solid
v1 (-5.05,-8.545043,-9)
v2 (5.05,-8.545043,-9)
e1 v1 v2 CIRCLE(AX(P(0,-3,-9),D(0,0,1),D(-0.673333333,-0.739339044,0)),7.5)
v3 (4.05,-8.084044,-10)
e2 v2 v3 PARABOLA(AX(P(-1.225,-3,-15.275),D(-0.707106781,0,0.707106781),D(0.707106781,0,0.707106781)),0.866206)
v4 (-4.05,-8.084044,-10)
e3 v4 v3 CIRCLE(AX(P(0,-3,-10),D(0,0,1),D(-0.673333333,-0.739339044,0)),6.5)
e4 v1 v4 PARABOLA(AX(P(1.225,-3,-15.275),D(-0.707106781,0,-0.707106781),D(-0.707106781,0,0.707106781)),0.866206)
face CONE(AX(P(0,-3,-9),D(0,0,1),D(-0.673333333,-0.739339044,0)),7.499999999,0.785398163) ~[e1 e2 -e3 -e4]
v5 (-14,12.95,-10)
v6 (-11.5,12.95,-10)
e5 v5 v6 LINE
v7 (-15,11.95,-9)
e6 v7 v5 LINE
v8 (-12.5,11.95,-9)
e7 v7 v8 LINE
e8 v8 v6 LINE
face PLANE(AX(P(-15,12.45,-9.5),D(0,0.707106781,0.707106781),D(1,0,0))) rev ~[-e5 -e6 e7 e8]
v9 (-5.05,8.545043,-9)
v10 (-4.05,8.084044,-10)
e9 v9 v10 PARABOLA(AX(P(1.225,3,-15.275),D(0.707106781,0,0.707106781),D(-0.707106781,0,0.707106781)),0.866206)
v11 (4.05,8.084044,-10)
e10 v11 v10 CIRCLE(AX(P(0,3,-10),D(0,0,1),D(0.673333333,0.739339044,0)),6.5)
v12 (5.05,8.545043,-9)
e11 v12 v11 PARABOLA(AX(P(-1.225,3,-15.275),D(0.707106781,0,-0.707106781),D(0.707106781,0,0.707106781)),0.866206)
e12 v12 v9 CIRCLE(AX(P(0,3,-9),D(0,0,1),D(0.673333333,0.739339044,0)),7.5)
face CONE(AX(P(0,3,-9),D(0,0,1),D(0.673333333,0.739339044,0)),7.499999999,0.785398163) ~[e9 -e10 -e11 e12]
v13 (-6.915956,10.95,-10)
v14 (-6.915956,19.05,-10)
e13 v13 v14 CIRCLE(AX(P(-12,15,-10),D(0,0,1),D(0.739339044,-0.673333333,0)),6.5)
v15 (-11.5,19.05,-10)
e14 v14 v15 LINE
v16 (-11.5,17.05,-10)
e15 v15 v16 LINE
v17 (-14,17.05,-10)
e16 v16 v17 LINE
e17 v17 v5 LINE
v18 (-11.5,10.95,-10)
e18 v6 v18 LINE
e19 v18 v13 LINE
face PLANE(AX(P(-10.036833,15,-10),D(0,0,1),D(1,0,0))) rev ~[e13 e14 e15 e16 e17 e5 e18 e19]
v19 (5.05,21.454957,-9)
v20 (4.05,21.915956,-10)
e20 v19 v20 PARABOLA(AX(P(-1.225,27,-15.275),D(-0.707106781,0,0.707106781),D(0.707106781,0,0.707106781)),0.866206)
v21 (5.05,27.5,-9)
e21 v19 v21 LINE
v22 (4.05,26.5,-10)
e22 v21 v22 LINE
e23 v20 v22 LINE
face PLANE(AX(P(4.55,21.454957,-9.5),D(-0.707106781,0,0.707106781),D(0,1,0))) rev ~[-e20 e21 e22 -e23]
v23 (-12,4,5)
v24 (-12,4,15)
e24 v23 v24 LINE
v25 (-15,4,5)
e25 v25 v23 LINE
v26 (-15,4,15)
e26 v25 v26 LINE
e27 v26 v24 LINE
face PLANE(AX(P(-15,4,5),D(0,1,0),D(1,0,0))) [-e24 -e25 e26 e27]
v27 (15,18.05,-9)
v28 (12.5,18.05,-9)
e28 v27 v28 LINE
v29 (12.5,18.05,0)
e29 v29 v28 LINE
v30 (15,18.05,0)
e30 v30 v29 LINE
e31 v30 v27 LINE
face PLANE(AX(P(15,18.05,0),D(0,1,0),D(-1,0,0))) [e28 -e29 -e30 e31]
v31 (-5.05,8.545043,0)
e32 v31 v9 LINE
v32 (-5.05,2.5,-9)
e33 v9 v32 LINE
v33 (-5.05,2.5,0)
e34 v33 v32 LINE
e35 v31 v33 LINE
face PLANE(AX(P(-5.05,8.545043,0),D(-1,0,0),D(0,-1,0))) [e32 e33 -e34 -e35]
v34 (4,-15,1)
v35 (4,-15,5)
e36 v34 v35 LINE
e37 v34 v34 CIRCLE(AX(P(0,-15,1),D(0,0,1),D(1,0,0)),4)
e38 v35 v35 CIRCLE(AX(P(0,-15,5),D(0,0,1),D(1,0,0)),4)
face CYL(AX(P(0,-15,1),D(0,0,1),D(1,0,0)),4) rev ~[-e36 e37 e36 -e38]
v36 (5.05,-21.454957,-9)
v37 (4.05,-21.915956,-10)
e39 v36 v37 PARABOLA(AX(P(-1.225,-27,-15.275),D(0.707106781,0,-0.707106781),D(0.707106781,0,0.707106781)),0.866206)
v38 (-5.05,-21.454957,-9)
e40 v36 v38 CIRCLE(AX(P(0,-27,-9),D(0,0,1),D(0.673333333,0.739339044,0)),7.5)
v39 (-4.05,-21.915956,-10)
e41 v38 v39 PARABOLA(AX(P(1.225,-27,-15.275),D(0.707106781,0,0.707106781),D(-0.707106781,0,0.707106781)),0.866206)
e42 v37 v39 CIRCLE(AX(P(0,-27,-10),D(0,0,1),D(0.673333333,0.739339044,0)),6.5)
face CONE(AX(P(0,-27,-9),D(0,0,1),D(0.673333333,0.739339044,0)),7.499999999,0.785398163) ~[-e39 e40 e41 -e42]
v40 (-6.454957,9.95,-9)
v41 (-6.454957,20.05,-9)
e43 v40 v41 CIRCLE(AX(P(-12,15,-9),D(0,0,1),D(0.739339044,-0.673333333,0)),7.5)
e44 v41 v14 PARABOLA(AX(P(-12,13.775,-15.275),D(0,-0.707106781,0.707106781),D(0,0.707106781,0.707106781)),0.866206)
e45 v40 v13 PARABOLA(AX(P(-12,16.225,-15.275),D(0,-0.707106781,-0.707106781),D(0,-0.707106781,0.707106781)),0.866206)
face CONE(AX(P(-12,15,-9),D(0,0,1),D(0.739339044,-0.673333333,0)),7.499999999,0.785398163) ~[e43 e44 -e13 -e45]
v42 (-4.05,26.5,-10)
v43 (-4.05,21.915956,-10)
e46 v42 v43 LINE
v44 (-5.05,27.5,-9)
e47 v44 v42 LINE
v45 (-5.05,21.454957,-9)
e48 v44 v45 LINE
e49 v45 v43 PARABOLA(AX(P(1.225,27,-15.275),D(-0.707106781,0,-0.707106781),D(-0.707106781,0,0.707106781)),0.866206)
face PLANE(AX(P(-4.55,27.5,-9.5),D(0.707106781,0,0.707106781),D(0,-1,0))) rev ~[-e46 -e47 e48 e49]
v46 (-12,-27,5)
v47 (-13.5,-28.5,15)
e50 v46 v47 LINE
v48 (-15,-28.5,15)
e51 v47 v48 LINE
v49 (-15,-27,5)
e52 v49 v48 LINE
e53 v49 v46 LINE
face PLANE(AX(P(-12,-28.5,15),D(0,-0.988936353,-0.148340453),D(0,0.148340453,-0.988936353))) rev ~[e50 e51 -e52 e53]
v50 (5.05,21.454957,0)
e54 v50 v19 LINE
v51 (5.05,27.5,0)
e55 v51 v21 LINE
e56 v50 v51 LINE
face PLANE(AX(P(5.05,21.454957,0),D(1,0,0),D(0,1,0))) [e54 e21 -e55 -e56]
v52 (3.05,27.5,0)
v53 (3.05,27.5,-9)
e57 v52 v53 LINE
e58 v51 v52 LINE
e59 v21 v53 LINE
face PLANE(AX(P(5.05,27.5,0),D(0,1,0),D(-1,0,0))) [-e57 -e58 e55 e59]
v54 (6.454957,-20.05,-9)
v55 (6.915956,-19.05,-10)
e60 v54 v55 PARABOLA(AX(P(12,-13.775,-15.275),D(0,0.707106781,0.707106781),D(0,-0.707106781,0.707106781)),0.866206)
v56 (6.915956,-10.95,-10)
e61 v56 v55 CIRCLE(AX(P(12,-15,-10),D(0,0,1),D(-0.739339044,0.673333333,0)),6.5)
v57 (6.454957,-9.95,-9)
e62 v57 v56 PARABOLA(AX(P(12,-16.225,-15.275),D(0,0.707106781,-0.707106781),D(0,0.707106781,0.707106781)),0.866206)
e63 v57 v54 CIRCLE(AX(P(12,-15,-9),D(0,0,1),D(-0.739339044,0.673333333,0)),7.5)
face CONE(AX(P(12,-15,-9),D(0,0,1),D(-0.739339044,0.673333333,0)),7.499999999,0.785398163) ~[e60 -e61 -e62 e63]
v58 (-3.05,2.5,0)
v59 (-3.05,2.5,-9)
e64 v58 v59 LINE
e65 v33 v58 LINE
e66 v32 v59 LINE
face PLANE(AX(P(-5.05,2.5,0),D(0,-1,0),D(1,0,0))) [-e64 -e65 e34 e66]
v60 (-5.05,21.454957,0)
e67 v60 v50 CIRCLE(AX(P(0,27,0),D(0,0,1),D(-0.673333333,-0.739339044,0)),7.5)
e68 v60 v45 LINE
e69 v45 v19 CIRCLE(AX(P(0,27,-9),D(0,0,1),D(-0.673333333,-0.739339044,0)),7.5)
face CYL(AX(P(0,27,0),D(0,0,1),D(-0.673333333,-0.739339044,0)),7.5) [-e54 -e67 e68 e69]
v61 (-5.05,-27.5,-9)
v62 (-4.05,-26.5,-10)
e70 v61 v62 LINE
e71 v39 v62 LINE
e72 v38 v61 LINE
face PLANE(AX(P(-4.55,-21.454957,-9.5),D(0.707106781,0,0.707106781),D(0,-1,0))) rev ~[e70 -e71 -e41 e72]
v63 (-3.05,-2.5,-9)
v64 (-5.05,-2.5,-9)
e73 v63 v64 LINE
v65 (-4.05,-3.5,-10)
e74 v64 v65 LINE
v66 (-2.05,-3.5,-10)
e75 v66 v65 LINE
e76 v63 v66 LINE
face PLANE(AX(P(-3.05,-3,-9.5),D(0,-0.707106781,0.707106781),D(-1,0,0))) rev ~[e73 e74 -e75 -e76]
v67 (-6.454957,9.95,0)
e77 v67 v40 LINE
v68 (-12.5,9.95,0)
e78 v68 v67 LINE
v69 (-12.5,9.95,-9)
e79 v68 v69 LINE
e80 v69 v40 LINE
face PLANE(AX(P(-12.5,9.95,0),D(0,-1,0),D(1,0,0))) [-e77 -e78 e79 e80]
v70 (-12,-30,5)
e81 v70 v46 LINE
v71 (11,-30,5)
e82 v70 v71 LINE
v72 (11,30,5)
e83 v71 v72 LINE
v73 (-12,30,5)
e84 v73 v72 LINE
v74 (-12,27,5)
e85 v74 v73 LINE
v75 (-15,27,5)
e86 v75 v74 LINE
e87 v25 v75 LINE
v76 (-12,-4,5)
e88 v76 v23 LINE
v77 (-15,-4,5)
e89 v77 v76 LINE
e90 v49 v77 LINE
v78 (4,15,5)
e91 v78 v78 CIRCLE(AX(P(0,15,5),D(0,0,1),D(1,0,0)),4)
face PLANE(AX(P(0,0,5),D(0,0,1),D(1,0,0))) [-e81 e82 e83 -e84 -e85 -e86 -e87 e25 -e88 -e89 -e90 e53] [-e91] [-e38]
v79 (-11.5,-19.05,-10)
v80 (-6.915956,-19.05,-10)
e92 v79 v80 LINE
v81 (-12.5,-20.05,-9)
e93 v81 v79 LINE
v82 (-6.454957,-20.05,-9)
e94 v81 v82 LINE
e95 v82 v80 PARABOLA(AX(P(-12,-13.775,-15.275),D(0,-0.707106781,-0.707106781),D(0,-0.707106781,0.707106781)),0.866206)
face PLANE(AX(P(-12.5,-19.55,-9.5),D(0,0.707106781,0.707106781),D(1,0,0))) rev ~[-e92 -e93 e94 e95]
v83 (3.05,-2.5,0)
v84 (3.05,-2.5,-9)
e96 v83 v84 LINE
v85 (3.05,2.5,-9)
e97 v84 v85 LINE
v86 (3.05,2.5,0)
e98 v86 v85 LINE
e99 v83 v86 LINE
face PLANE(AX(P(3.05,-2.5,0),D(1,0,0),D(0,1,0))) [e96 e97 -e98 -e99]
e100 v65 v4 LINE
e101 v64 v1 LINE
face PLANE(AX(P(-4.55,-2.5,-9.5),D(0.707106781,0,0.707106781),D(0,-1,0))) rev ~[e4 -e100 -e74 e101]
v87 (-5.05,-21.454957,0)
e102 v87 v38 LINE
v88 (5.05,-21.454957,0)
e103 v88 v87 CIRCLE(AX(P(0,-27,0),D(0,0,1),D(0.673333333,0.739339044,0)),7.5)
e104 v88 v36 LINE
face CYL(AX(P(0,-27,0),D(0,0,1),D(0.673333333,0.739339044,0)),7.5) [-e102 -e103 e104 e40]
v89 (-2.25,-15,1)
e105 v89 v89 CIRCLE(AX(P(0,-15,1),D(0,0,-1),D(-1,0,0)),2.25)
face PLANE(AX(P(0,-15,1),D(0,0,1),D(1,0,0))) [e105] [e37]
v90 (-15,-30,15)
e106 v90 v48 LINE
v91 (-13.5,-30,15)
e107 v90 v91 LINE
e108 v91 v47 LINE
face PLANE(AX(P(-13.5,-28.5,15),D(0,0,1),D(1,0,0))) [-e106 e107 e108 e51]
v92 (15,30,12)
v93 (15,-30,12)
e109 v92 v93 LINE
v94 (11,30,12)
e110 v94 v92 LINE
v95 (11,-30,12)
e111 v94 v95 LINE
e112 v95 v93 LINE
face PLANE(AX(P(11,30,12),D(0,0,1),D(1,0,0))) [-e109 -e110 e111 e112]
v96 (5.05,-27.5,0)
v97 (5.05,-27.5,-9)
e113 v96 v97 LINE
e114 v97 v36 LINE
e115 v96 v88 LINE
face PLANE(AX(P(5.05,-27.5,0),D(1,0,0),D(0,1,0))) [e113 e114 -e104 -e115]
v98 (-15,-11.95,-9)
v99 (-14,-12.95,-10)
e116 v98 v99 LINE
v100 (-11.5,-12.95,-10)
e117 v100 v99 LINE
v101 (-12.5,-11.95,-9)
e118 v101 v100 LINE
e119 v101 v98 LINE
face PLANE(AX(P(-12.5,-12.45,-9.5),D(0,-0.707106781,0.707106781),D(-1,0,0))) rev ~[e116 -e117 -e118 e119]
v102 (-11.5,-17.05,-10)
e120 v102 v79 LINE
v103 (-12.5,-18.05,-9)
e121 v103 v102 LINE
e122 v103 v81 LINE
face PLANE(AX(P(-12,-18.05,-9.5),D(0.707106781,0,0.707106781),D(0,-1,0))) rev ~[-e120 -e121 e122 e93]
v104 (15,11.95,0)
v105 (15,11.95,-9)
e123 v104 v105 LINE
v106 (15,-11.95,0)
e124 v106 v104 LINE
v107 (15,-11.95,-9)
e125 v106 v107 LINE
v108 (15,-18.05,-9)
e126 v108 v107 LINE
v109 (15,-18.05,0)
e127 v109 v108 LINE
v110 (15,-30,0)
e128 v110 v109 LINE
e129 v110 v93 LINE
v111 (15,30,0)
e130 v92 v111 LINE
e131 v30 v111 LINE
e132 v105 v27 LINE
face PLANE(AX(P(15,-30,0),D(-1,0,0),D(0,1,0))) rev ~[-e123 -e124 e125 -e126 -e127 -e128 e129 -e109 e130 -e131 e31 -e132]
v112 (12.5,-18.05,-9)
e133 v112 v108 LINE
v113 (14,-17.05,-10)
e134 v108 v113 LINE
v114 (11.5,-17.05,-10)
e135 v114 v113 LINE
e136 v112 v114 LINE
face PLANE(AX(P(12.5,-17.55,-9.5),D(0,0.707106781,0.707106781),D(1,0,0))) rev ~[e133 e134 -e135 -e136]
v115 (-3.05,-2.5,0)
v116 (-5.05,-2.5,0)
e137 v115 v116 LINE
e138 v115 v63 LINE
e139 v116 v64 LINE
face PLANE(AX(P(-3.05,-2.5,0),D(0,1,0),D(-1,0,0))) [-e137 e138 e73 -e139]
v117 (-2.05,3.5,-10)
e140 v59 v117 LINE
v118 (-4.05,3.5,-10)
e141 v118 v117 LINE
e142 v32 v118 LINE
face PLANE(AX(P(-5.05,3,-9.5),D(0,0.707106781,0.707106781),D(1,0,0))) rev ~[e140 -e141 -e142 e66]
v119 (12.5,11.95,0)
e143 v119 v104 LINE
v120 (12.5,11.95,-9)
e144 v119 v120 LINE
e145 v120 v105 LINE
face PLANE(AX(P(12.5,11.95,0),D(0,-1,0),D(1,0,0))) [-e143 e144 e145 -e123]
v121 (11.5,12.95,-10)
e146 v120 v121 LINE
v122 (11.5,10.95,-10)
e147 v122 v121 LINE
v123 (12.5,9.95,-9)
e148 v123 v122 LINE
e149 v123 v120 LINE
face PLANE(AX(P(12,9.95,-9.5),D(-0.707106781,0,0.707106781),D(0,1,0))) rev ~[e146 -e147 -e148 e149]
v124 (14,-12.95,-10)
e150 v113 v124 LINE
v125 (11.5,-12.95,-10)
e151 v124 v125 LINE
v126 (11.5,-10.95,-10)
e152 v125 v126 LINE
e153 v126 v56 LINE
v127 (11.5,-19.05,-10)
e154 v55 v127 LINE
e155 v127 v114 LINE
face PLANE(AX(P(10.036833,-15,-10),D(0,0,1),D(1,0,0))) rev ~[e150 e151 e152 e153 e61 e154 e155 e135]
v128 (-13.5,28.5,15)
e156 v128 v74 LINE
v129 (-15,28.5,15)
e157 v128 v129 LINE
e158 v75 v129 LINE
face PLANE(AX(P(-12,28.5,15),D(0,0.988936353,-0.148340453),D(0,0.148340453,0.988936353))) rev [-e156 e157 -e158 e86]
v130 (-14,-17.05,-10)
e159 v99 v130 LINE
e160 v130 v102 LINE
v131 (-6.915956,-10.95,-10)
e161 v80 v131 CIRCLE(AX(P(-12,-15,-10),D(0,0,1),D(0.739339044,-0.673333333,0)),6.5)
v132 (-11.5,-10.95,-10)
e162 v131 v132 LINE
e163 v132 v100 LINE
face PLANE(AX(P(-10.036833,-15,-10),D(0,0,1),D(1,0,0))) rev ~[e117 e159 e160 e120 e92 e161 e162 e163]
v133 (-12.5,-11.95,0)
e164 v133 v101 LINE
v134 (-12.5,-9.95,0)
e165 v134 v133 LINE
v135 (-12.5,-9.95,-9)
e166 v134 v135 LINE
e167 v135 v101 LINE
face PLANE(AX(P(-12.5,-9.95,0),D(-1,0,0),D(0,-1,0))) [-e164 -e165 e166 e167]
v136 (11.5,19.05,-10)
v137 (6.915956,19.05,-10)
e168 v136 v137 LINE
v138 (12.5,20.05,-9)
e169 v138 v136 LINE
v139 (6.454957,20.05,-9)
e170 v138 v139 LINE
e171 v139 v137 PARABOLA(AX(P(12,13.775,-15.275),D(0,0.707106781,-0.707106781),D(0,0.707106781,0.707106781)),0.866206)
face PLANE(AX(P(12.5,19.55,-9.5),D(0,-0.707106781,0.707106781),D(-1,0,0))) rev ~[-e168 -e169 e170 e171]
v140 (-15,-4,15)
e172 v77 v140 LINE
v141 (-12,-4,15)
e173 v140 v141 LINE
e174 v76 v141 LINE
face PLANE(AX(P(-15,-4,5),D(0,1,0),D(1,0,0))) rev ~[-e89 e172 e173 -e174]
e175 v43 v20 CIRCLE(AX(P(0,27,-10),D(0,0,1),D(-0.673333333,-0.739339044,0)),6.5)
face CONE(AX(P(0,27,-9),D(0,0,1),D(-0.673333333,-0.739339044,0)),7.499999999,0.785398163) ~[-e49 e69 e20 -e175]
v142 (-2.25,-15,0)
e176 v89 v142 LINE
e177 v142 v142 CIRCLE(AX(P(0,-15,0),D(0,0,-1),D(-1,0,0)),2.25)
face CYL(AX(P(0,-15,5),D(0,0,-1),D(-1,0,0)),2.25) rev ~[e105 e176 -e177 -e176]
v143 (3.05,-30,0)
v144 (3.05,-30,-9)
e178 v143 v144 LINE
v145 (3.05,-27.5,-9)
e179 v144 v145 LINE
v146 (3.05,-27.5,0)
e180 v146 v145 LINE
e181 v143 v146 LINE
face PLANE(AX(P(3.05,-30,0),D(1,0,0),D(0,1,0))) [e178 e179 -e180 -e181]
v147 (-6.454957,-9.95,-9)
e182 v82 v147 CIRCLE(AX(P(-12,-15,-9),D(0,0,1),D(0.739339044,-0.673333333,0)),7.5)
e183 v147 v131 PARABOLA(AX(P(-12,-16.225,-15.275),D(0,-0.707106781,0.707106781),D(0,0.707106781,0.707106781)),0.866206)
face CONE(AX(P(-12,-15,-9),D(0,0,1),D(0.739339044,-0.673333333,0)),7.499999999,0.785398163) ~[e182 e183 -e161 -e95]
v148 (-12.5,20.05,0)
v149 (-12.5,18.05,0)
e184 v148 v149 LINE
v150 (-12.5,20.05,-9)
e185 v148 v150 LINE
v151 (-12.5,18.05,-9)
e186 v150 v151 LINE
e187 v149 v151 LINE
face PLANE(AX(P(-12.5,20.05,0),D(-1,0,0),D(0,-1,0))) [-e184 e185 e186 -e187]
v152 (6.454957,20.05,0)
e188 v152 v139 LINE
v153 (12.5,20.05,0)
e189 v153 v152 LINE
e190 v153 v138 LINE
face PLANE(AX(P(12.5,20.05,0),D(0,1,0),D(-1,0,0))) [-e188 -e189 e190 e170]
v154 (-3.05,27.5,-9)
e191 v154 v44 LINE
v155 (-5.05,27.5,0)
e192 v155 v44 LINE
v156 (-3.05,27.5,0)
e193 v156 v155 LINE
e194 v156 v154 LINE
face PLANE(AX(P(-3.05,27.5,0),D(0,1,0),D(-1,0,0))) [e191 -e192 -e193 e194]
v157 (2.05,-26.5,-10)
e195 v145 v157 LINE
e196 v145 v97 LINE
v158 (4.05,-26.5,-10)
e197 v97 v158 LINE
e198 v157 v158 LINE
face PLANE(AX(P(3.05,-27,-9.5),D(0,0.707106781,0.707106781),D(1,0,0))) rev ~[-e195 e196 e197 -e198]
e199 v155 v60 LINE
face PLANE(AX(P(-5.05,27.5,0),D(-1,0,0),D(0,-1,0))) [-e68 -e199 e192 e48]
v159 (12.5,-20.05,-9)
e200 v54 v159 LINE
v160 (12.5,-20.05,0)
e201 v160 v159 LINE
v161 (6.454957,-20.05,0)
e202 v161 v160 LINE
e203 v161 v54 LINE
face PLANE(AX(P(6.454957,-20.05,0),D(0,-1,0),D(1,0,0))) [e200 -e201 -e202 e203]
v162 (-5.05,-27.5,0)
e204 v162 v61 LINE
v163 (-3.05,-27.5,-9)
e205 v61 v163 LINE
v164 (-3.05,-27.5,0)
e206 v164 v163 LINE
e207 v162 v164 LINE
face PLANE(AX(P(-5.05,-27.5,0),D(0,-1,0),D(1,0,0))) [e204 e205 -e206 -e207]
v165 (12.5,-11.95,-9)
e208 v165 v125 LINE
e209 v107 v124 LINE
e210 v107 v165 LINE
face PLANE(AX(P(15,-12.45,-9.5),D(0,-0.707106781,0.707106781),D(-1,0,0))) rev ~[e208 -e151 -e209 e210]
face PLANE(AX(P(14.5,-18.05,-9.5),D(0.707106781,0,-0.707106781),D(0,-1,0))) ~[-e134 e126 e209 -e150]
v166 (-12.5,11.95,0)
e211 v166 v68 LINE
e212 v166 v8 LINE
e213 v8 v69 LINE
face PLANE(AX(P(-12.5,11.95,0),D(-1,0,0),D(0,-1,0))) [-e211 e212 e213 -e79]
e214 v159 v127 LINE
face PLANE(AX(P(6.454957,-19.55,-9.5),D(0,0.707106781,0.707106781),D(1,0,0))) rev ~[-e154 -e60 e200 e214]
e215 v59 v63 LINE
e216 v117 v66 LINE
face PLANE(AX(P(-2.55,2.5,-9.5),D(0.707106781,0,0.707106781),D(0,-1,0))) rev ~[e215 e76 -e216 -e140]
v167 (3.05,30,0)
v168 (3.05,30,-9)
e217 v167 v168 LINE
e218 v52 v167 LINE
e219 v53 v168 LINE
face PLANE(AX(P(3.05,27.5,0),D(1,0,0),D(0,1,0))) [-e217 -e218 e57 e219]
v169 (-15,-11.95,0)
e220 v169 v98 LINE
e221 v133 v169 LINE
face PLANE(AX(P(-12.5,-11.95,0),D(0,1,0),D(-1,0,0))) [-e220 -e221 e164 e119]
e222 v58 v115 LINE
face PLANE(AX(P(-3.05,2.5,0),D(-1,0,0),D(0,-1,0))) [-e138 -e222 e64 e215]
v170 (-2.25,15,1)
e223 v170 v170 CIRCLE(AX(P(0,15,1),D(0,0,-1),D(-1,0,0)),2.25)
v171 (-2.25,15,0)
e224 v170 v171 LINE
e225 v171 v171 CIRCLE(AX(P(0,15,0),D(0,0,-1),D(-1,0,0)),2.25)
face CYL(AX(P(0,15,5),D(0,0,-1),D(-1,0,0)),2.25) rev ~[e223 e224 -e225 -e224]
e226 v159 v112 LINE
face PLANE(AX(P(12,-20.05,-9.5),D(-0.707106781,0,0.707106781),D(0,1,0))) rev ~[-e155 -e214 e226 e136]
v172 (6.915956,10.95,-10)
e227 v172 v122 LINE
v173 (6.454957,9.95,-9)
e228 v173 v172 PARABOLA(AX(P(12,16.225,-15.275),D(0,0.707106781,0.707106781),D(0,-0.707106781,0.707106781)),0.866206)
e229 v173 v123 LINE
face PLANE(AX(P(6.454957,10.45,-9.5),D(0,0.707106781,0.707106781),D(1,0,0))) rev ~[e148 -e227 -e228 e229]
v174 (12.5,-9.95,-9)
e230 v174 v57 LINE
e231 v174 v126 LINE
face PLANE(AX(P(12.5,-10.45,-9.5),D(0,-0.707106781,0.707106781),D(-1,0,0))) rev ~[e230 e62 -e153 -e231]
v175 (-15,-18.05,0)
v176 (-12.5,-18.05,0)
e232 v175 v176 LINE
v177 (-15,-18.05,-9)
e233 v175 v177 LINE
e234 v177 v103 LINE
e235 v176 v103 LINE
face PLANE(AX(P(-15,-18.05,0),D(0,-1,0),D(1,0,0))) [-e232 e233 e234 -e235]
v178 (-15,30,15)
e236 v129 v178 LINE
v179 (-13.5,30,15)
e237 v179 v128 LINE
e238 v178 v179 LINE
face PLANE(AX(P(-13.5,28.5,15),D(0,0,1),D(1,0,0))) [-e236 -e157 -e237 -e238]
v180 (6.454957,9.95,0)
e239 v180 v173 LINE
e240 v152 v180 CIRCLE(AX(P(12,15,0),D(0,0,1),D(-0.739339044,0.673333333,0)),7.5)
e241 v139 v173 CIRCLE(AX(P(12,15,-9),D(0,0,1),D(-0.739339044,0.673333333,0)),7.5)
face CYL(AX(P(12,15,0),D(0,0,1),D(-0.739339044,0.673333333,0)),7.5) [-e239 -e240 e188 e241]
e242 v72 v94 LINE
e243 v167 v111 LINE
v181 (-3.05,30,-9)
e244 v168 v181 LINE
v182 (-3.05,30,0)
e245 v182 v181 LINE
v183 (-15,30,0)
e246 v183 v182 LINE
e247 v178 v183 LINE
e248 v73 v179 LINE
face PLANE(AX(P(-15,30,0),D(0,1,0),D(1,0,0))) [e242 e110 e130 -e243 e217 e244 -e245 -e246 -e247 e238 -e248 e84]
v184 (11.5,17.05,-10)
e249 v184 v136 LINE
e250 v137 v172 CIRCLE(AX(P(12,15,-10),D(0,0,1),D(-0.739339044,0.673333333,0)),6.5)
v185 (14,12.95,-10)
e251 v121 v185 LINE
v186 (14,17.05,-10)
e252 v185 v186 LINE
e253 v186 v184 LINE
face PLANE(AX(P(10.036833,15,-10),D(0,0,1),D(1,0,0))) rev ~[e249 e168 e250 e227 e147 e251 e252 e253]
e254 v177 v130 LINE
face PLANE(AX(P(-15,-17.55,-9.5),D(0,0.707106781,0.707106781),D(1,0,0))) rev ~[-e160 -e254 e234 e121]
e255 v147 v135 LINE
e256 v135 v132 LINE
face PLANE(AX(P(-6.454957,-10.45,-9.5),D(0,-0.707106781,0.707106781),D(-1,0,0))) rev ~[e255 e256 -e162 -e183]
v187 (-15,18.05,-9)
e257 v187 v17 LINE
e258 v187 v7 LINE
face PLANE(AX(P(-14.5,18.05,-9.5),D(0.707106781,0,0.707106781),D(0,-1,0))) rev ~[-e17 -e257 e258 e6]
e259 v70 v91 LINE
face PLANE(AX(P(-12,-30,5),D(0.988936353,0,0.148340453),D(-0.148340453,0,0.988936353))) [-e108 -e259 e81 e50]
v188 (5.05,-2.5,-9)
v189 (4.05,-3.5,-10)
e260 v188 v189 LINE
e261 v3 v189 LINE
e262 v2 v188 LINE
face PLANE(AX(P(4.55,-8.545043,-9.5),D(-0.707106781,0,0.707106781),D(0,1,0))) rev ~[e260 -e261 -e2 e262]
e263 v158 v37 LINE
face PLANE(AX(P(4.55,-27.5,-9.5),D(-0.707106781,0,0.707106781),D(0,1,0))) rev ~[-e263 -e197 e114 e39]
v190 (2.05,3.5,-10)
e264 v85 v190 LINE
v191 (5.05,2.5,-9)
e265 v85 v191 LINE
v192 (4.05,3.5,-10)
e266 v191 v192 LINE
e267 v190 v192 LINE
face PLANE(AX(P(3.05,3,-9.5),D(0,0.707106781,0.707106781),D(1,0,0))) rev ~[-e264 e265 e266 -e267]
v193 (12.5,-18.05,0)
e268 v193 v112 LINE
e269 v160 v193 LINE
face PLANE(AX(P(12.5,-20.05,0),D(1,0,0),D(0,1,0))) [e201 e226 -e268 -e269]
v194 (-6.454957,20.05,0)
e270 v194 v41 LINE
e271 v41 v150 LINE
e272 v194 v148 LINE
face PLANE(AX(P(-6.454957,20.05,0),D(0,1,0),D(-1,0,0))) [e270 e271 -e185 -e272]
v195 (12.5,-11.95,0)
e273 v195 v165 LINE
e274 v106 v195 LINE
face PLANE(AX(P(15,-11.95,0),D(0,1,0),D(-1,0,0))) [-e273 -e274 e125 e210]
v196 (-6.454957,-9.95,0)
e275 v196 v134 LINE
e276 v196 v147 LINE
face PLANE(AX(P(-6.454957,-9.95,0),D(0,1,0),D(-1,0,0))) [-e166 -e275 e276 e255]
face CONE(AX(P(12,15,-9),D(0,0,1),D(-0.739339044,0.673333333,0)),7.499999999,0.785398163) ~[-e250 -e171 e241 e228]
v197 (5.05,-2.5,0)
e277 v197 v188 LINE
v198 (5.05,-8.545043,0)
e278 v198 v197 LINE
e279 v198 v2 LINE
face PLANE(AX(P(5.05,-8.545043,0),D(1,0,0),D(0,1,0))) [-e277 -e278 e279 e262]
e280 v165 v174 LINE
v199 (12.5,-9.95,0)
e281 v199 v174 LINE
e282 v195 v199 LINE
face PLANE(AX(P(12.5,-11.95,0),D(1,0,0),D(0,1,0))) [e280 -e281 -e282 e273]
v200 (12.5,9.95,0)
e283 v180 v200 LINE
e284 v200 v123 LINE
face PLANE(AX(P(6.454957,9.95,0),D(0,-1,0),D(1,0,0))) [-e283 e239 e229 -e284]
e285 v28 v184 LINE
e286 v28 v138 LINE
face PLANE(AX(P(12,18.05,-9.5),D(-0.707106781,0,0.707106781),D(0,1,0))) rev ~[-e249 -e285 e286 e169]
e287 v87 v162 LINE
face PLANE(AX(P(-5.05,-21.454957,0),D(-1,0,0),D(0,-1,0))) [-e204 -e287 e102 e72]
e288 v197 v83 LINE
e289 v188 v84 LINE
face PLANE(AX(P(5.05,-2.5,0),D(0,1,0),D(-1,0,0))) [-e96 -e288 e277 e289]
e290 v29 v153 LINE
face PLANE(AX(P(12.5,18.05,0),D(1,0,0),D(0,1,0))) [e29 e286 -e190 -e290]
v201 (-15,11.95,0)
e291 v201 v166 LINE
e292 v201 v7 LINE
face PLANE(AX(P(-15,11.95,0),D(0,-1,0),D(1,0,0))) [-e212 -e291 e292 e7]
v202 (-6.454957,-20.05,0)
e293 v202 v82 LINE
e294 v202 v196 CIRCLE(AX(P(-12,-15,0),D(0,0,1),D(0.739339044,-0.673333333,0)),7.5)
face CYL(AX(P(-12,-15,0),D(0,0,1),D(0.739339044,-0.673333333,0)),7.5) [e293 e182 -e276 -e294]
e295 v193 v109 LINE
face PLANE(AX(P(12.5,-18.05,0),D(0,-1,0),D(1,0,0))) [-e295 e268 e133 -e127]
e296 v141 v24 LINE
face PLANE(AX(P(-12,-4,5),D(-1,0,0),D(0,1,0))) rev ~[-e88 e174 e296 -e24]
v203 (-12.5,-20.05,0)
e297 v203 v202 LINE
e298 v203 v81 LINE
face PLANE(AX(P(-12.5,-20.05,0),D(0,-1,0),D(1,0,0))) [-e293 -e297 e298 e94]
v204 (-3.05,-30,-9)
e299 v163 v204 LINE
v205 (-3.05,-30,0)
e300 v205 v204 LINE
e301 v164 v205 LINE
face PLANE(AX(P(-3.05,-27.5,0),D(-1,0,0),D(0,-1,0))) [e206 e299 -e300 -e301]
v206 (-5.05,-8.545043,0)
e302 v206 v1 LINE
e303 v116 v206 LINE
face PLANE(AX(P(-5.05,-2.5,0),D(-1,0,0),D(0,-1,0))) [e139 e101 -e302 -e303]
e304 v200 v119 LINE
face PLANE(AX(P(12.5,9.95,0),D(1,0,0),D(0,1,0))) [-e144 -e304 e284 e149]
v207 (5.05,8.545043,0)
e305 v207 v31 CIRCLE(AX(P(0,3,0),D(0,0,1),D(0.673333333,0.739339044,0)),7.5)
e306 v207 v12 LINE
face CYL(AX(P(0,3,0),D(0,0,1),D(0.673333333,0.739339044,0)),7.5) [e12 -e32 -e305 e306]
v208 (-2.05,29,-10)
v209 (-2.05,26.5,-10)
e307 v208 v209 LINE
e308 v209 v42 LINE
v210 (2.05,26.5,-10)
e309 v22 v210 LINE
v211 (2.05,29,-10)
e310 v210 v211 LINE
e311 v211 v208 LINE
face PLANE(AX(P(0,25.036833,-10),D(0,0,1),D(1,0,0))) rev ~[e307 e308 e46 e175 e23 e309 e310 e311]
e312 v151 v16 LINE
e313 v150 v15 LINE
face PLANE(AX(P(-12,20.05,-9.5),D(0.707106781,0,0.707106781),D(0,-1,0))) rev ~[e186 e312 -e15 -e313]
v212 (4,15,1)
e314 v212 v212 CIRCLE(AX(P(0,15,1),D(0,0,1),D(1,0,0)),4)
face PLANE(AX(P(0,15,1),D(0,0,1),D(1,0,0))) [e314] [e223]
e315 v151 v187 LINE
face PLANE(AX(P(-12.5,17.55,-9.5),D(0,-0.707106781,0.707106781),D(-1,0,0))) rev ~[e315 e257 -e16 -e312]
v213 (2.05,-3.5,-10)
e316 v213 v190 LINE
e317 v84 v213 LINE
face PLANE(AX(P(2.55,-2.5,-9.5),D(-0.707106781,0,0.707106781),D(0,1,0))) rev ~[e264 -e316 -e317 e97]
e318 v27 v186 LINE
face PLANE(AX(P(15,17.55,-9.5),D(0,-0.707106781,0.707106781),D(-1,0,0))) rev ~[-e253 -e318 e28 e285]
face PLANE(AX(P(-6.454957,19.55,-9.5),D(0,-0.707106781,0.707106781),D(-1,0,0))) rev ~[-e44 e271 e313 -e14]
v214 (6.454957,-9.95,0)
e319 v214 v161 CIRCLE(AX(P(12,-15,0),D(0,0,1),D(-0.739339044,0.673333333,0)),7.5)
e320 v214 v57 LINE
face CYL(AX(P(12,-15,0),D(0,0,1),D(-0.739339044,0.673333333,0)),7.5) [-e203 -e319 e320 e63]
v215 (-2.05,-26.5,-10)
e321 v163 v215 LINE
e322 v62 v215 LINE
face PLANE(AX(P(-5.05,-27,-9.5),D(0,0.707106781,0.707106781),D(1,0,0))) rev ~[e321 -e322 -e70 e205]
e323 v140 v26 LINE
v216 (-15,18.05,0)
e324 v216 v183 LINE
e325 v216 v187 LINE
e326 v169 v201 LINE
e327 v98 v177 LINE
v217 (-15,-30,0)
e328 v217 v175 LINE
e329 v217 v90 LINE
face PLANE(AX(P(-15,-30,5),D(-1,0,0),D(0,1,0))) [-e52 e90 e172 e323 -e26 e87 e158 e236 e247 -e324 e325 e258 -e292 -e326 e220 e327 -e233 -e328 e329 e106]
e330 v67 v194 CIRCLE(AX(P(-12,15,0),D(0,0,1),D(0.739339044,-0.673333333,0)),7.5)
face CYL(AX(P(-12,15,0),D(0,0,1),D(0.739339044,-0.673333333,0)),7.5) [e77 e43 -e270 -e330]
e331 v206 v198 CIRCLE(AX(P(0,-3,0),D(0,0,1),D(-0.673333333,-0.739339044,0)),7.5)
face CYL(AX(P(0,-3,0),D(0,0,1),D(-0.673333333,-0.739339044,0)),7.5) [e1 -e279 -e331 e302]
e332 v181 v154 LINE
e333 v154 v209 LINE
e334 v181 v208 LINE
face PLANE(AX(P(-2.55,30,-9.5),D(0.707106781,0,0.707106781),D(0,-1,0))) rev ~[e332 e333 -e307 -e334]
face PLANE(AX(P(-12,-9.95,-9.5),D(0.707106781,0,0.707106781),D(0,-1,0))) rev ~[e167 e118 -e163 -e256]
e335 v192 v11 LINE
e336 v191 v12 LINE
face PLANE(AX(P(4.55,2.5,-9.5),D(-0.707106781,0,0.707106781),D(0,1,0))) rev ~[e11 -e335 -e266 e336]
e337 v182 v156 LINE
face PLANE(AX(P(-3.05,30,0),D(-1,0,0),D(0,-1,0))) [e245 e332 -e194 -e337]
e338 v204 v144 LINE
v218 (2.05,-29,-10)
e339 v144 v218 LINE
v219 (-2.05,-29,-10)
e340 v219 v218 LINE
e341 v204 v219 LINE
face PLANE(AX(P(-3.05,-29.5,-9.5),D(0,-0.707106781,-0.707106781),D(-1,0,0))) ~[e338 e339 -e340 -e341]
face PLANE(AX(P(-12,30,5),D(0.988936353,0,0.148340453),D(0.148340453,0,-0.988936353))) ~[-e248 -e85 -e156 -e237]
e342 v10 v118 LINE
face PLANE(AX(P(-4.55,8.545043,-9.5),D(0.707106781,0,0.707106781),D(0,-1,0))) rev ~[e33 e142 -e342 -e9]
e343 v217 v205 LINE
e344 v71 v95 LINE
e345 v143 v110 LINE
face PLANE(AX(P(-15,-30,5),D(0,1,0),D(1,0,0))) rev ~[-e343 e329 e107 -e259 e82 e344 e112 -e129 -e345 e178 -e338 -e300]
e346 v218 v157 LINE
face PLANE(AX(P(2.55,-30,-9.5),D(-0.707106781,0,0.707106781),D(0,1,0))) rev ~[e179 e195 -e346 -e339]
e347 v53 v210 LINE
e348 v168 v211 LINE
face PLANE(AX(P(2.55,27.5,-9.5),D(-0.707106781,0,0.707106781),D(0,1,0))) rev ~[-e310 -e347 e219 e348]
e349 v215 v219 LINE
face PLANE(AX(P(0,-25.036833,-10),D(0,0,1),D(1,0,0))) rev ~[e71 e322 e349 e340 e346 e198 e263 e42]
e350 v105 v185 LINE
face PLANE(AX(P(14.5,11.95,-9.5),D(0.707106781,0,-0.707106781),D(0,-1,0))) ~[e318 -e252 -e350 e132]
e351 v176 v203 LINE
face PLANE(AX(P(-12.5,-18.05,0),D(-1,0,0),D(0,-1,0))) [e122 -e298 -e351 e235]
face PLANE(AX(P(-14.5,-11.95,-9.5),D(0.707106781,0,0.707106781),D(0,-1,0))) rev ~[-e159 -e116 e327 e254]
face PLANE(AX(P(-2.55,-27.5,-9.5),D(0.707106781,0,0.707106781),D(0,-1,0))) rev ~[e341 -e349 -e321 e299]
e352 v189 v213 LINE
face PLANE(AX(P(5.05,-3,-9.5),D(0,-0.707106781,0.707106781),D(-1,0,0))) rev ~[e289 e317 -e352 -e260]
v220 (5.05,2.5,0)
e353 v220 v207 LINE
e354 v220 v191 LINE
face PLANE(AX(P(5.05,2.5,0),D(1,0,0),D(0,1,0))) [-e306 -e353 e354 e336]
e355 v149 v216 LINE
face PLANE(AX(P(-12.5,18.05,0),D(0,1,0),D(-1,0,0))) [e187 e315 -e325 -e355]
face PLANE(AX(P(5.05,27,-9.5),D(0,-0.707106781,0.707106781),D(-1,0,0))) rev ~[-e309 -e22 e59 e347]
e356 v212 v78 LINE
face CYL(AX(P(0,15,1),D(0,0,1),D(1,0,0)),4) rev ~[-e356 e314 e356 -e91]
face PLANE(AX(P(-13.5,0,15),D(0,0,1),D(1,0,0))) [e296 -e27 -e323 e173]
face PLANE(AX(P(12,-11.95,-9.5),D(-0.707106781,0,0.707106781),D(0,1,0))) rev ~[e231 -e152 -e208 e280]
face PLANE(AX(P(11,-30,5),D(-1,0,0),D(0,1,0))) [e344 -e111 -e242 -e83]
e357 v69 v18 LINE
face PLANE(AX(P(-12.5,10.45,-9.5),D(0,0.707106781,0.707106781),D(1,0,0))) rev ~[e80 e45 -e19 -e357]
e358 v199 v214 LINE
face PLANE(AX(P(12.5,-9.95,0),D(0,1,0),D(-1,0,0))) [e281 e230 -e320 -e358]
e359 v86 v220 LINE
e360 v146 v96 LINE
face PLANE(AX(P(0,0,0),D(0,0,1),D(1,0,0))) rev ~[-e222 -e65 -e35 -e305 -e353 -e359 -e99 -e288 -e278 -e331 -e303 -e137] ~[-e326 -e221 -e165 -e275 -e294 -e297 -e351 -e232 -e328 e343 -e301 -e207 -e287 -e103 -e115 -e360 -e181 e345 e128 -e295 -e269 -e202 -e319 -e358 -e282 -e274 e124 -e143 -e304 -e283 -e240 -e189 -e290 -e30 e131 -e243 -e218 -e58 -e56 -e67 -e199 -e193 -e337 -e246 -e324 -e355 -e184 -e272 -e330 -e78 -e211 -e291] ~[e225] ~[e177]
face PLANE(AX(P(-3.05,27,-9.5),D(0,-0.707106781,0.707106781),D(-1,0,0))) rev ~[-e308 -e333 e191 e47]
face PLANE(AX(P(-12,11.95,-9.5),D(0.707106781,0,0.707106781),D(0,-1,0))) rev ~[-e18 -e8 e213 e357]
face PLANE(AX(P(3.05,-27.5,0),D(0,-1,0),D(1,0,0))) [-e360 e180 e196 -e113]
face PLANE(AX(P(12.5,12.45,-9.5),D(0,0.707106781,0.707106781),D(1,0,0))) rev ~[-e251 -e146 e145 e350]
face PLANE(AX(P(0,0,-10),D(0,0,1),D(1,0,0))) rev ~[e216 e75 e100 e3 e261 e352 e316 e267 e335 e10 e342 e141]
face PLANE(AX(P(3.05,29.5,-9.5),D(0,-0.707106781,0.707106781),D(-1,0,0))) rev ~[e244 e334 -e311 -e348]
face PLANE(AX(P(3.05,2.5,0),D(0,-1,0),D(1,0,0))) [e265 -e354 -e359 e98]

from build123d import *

# Parameters (mm, degrees)
SKETCH_1_W                   = 30
SKETCH_1_H                   = 60
EXTRUDE_1_DEPTH              = 5
SKETCH_2_W                   = 3
SKETCH_2_H                   = 3
SKETCH_2_W_2                 = 4
SKETCH_2_H_2                 = 60
SKETCH_2_H_3                 = 8
EXTRUDE_2_DEPTH              = 10
CUT_EXTRUDE_1_DEPTH          = 44.058100283
CUT_EXTRUDE_3_DEPTH          = 7
SKETCH_5_W                   = 4
SKETCH_5_H                   = 3
CUT_EXTRUDE_4_DEPTH          = 64.639610307
HOLE_WIZARD_M4_1_D           = 4.5
HOLE_WIZARD_M4_1_CBORE_D     = 8
HOLE_WIZARD_M4_1_CBORE_DEPTH = 4
EXTRUDE_3_DEPTH              = 10
CHAMFER_1_SIZE               = 1


with BuildPart() as part:
    # 스케치1 → 보스-돌출1 (new body)
    with BuildSketch(Plane.XY):
        Rectangle(SKETCH_1_W, SKETCH_1_H)
    extrude(amount=EXTRUDE_1_DEPTH)

    # 스케치2 → 보스-돌출2 (add)
    with BuildSketch(Plane.XY.offset(5)):
        with Locations((-13.5, -28.5)):
            Rectangle(SKETCH_2_W, SKETCH_2_H)
        with Locations((-13.5, 28.5)):
            Rectangle(SKETCH_2_W, SKETCH_2_H)
        with Locations((13, 0)):
            Rectangle(SKETCH_2_W_2, SKETCH_2_H_2)
        with Locations((-13.5, 0)):
            Rectangle(SKETCH_2_W, SKETCH_2_H_3)
    extrude(amount=EXTRUDE_2_DEPTH)

    # 스케치3 → 컷-돌출1 (cut, through all)
    with BuildSketch(Plane(origin=(-12, 0, 0), x_dir=(0, 0, -1), z_dir=(1, 0, 0))):
        Polygon((-15, -28.5), (-5, -27), (-15, -27), align=None)
    cut_extrude_1 = extrude(amount=-CUT_EXTRUDE_1_DEPTH, mode=Mode.SUBTRACT)

    # 스케치4 → 컷-돌출3 (cut)
    with BuildSketch(Plane.XZ.offset(30)):
        Polygon((-13.5, 15), (-12, 15), (-12, 5), align=None)
    cut_extrude_3 = extrude(amount=-CUT_EXTRUDE_3_DEPTH, mode=Mode.SUBTRACT)

    # 대칭 복사1: 컷-돌출1, 컷-돌출3 across plane
    add(cut_extrude_1.mirror(Plane(origin=(0, 0, 0), x_dir=(0, 0, 1), z_dir=(0, -1, 0))), mode=Mode.SUBTRACT)
    add(cut_extrude_3.mirror(Plane(origin=(0, 0, 0), x_dir=(0, 0, 1), z_dir=(0, -1, 0))), mode=Mode.SUBTRACT)

    # 스케치5 → 컷-돌출4 (cut, through all)
    with BuildSketch(Plane(origin=(0, 30, 0), x_dir=(1, 0, 0), z_dir=(0, 1, 0))):
        with Locations((13, -13.5)):
            Rectangle(SKETCH_5_W, SKETCH_5_H)
    extrude(amount=-CUT_EXTRUDE_4_DEPTH, mode=Mode.SUBTRACT)

    # M4 소켓 머리 캡 나사용 카운터보어1 (through all)
    with Locations(Plane.XY.offset(5)):
        with Locations((0, -15), (0, 15)):
            CounterBoreHole(HOLE_WIZARD_M4_1_D / 2, HOLE_WIZARD_M4_1_CBORE_D / 2, HOLE_WIZARD_M4_1_CBORE_DEPTH)

    # 스케치9 → 보스-돌출3 (add)
    with BuildSketch(Plane(origin=(0, 0, 0), x_dir=(-1, 0, 0), z_dir=(0, 0, -1))):
        with BuildLine():
            Line((-3.05, 30), (3.05, 30))
            Line((3.05, 30), (3.05, 27.5))
            Line((3.05, 27.5), (5.05, 27.5))
            Line((5.05, 27.5), (5.05, 21.454957169))
            ThreePointArc((5.05, 21.454957169), (0, 19.5), (-5.05, 21.454957169))
            Line((-5.05, 21.454957169), (-5.05, 27.5))
            Line((-5.05, 27.5), (-3.05, 27.5))
            Line((-3.05, 27.5), (-3.05, 30))
        make_face()
        with BuildLine():
            Line((15, 18.05), (15, 11.95))
            Line((15, 11.95), (12.5, 11.95))
            Line((12.5, 11.95), (12.5, 9.95))
            Line((12.5, 9.95), (6.454957169, 9.95))
            ThreePointArc((6.454957169, 9.95), (4.5, 15), (6.454957169, 20.05))
            Line((6.454957169, 20.05), (12.5, 20.05))
            Line((12.5, 20.05), (12.5, 18.05))
            Line((12.5, 18.05), (15, 18.05))
        make_face()
        with BuildLine():
            Line((-3.05, 2.5), (-5.05, 2.5))
            Line((-5.05, 2.5), (-5.05, 8.545042831))
            ThreePointArc((-5.05, 8.545042831), (0, 10.5), (5.05, 8.545042831))
            Line((5.05, 8.545042831), (5.05, 2.5))
            Line((5.05, 2.5), (3.05, 2.5))
            Line((3.05, 2.5), (3.05, -2.5))
            Line((3.05, -2.5), (5.05, -2.5))
            Line((5.05, -2.5), (5.05, -8.545042831))
            ThreePointArc((5.05, -8.545042831), (0, -10.5), (-5.05, -8.545042831))
            Line((-5.05, -8.545042831), (-5.05, -2.5))
            Line((-5.05, -2.5), (-3.05, -2.5))
            Line((-3.05, -2.5), (-3.05, 2.5))
        make_face()
        with BuildLine():
            Line((-15, 11.95), (-15, 18.05))
            Line((-15, 18.05), (-12.5, 18.05))
            Line((-12.5, 18.05), (-12.5, 20.05))
            Line((-12.5, 20.05), (-6.454957169, 20.05))
            ThreePointArc((-6.454957169, 20.05), (-4.5, 15), (-6.454957169, 9.95))
            Line((-6.454957169, 9.95), (-12.5, 9.95))
            Line((-12.5, 9.95), (-12.5, 11.95))
            Line((-12.5, 11.95), (-15, 11.95))
        make_face()
        with BuildLine():
            Line((-5.05, -27.5), (-5.05, -21.454957169))
            ThreePointArc((-5.05, -21.454957169), (0, -19.5), (5.05, -21.454957169))
            Line((5.05, -21.454957169), (5.05, -27.5))
            Line((5.05, -27.5), (3.05, -27.5))
            Line((3.05, -27.5), (3.05, -30))
            Line((3.05, -30), (-3.05, -30))
            Line((-3.05, -30), (-3.05, -27.5))
            Line((-3.05, -27.5), (-5.05, -27.5))
        make_face()
        with BuildLine():
            Line((-12.5, -9.95), (-6.454957169, -9.95))
            ThreePointArc((-6.454957169, -9.95), (-4.5, -15), (-6.454957169, -20.05))
            Line((-6.454957169, -20.05), (-12.5, -20.05))
            Line((-12.5, -20.05), (-12.5, -18.05))
            Line((-12.5, -18.05), (-15, -18.05))
            Line((-15, -18.05), (-15, -11.95))
            Line((-15, -11.95), (-12.5, -11.95))
            Line((-12.5, -11.95), (-12.5, -9.95))
        make_face()
        with BuildLine():
            Line((12.5, -20.05), (6.454957169, -20.05))
            ThreePointArc((6.454957169, -20.05), (4.5, -15), (6.454957169, -9.95))
            Line((6.454957169, -9.95), (12.5, -9.95))
            Line((12.5, -9.95), (12.5, -11.95))
            Line((12.5, -11.95), (15, -11.95))
            Line((15, -11.95), (15, -18.05))
            Line((15, -18.05), (12.5, -18.05))
            Line((12.5, -18.05), (12.5, -20.05))
        make_face()
    extrude(amount=EXTRUDE_3_DEPTH)

    # 모따기1
    chamfer_1_edges = [part.edges().sort_by_distance(p)[0] for p in [
        (3.05, 28.75, -10),
        (4.05, 27.5, -10),
        (5.05, 24.477478584, -10),
        (0, 19.5, -10),
        (-5.05, 24.477478584, -10),
        (-4.05, 27.5, -10),
        (-3.05, 28.75, -10),
        (0, 30, -10),
        (-13.75, 18.05, -10),
        (-12.5, 19.05, -10),
        (-9.477478584, 20.05, -10),
        (-4.5, 15, -10),
        (-9.477478584, 9.95, -10),
        (-12.5, 10.95, -10),
        (-13.75, 11.95, -10),
        (-15, 15, -10),
        (3.05, 0, -10),
        (4.05, -2.5, -10),
        (5.05, -5.522521416, -10),
        (0, -10.5, -10),
        (-5.05, -5.522521416, -10),
        (-4.05, -2.5, -10),
        (-3.05, 0, -10),
        (-4.05, 2.5, -10),
        (-5.05, 5.522521416, -10),
        (0, 10.5, -10),
        (5.05, 5.522521416, -10),
        (4.05, 2.5, -10),
        (13.75, 11.95, -10),
        (12.5, 10.95, -10),
        (9.477478584, 9.95, -10),
        (4.5, 15, -10),
        (9.477478584, 20.05, -10),
        (12.5, 19.05, -10),
        (13.75, 18.05, -10),
        (15, 15, -10),
        (0, -19.5, -10),
        (5.05, -24.477478584, -10),
        (4.05, -27.5, -10),
        (3.05, -28.75, -10),
        (0, -30, -10),
        (-3.05, -28.75, -10),
        (-4.05, -27.5, -10),
        (-5.05, -24.477478584, -10),
        (4.5, -15, -10),
        (9.477478584, -9.95, -10),
        (12.5, -10.95, -10),
        (13.75, -11.95, -10),
        (15, -15, -10),
        (13.75, -18.05, -10),
        (12.5, -19.05, -10),
        (9.477478584, -20.05, -10),
        (-4.5, -15, -10),
        (-9.477478584, -20.05, -10),
        (-12.5, -19.05, -10),
        (-13.75, -18.05, -10),
        (-15, -15, -10),
        (-13.75, -11.95, -10),
        (-12.5, -10.95, -10),
        (-9.477478584, -9.95, -10),
    ]]
    chamfer(chamfer_1_edges, length=CHAMFER_1_SIZE)


solid = part.part
